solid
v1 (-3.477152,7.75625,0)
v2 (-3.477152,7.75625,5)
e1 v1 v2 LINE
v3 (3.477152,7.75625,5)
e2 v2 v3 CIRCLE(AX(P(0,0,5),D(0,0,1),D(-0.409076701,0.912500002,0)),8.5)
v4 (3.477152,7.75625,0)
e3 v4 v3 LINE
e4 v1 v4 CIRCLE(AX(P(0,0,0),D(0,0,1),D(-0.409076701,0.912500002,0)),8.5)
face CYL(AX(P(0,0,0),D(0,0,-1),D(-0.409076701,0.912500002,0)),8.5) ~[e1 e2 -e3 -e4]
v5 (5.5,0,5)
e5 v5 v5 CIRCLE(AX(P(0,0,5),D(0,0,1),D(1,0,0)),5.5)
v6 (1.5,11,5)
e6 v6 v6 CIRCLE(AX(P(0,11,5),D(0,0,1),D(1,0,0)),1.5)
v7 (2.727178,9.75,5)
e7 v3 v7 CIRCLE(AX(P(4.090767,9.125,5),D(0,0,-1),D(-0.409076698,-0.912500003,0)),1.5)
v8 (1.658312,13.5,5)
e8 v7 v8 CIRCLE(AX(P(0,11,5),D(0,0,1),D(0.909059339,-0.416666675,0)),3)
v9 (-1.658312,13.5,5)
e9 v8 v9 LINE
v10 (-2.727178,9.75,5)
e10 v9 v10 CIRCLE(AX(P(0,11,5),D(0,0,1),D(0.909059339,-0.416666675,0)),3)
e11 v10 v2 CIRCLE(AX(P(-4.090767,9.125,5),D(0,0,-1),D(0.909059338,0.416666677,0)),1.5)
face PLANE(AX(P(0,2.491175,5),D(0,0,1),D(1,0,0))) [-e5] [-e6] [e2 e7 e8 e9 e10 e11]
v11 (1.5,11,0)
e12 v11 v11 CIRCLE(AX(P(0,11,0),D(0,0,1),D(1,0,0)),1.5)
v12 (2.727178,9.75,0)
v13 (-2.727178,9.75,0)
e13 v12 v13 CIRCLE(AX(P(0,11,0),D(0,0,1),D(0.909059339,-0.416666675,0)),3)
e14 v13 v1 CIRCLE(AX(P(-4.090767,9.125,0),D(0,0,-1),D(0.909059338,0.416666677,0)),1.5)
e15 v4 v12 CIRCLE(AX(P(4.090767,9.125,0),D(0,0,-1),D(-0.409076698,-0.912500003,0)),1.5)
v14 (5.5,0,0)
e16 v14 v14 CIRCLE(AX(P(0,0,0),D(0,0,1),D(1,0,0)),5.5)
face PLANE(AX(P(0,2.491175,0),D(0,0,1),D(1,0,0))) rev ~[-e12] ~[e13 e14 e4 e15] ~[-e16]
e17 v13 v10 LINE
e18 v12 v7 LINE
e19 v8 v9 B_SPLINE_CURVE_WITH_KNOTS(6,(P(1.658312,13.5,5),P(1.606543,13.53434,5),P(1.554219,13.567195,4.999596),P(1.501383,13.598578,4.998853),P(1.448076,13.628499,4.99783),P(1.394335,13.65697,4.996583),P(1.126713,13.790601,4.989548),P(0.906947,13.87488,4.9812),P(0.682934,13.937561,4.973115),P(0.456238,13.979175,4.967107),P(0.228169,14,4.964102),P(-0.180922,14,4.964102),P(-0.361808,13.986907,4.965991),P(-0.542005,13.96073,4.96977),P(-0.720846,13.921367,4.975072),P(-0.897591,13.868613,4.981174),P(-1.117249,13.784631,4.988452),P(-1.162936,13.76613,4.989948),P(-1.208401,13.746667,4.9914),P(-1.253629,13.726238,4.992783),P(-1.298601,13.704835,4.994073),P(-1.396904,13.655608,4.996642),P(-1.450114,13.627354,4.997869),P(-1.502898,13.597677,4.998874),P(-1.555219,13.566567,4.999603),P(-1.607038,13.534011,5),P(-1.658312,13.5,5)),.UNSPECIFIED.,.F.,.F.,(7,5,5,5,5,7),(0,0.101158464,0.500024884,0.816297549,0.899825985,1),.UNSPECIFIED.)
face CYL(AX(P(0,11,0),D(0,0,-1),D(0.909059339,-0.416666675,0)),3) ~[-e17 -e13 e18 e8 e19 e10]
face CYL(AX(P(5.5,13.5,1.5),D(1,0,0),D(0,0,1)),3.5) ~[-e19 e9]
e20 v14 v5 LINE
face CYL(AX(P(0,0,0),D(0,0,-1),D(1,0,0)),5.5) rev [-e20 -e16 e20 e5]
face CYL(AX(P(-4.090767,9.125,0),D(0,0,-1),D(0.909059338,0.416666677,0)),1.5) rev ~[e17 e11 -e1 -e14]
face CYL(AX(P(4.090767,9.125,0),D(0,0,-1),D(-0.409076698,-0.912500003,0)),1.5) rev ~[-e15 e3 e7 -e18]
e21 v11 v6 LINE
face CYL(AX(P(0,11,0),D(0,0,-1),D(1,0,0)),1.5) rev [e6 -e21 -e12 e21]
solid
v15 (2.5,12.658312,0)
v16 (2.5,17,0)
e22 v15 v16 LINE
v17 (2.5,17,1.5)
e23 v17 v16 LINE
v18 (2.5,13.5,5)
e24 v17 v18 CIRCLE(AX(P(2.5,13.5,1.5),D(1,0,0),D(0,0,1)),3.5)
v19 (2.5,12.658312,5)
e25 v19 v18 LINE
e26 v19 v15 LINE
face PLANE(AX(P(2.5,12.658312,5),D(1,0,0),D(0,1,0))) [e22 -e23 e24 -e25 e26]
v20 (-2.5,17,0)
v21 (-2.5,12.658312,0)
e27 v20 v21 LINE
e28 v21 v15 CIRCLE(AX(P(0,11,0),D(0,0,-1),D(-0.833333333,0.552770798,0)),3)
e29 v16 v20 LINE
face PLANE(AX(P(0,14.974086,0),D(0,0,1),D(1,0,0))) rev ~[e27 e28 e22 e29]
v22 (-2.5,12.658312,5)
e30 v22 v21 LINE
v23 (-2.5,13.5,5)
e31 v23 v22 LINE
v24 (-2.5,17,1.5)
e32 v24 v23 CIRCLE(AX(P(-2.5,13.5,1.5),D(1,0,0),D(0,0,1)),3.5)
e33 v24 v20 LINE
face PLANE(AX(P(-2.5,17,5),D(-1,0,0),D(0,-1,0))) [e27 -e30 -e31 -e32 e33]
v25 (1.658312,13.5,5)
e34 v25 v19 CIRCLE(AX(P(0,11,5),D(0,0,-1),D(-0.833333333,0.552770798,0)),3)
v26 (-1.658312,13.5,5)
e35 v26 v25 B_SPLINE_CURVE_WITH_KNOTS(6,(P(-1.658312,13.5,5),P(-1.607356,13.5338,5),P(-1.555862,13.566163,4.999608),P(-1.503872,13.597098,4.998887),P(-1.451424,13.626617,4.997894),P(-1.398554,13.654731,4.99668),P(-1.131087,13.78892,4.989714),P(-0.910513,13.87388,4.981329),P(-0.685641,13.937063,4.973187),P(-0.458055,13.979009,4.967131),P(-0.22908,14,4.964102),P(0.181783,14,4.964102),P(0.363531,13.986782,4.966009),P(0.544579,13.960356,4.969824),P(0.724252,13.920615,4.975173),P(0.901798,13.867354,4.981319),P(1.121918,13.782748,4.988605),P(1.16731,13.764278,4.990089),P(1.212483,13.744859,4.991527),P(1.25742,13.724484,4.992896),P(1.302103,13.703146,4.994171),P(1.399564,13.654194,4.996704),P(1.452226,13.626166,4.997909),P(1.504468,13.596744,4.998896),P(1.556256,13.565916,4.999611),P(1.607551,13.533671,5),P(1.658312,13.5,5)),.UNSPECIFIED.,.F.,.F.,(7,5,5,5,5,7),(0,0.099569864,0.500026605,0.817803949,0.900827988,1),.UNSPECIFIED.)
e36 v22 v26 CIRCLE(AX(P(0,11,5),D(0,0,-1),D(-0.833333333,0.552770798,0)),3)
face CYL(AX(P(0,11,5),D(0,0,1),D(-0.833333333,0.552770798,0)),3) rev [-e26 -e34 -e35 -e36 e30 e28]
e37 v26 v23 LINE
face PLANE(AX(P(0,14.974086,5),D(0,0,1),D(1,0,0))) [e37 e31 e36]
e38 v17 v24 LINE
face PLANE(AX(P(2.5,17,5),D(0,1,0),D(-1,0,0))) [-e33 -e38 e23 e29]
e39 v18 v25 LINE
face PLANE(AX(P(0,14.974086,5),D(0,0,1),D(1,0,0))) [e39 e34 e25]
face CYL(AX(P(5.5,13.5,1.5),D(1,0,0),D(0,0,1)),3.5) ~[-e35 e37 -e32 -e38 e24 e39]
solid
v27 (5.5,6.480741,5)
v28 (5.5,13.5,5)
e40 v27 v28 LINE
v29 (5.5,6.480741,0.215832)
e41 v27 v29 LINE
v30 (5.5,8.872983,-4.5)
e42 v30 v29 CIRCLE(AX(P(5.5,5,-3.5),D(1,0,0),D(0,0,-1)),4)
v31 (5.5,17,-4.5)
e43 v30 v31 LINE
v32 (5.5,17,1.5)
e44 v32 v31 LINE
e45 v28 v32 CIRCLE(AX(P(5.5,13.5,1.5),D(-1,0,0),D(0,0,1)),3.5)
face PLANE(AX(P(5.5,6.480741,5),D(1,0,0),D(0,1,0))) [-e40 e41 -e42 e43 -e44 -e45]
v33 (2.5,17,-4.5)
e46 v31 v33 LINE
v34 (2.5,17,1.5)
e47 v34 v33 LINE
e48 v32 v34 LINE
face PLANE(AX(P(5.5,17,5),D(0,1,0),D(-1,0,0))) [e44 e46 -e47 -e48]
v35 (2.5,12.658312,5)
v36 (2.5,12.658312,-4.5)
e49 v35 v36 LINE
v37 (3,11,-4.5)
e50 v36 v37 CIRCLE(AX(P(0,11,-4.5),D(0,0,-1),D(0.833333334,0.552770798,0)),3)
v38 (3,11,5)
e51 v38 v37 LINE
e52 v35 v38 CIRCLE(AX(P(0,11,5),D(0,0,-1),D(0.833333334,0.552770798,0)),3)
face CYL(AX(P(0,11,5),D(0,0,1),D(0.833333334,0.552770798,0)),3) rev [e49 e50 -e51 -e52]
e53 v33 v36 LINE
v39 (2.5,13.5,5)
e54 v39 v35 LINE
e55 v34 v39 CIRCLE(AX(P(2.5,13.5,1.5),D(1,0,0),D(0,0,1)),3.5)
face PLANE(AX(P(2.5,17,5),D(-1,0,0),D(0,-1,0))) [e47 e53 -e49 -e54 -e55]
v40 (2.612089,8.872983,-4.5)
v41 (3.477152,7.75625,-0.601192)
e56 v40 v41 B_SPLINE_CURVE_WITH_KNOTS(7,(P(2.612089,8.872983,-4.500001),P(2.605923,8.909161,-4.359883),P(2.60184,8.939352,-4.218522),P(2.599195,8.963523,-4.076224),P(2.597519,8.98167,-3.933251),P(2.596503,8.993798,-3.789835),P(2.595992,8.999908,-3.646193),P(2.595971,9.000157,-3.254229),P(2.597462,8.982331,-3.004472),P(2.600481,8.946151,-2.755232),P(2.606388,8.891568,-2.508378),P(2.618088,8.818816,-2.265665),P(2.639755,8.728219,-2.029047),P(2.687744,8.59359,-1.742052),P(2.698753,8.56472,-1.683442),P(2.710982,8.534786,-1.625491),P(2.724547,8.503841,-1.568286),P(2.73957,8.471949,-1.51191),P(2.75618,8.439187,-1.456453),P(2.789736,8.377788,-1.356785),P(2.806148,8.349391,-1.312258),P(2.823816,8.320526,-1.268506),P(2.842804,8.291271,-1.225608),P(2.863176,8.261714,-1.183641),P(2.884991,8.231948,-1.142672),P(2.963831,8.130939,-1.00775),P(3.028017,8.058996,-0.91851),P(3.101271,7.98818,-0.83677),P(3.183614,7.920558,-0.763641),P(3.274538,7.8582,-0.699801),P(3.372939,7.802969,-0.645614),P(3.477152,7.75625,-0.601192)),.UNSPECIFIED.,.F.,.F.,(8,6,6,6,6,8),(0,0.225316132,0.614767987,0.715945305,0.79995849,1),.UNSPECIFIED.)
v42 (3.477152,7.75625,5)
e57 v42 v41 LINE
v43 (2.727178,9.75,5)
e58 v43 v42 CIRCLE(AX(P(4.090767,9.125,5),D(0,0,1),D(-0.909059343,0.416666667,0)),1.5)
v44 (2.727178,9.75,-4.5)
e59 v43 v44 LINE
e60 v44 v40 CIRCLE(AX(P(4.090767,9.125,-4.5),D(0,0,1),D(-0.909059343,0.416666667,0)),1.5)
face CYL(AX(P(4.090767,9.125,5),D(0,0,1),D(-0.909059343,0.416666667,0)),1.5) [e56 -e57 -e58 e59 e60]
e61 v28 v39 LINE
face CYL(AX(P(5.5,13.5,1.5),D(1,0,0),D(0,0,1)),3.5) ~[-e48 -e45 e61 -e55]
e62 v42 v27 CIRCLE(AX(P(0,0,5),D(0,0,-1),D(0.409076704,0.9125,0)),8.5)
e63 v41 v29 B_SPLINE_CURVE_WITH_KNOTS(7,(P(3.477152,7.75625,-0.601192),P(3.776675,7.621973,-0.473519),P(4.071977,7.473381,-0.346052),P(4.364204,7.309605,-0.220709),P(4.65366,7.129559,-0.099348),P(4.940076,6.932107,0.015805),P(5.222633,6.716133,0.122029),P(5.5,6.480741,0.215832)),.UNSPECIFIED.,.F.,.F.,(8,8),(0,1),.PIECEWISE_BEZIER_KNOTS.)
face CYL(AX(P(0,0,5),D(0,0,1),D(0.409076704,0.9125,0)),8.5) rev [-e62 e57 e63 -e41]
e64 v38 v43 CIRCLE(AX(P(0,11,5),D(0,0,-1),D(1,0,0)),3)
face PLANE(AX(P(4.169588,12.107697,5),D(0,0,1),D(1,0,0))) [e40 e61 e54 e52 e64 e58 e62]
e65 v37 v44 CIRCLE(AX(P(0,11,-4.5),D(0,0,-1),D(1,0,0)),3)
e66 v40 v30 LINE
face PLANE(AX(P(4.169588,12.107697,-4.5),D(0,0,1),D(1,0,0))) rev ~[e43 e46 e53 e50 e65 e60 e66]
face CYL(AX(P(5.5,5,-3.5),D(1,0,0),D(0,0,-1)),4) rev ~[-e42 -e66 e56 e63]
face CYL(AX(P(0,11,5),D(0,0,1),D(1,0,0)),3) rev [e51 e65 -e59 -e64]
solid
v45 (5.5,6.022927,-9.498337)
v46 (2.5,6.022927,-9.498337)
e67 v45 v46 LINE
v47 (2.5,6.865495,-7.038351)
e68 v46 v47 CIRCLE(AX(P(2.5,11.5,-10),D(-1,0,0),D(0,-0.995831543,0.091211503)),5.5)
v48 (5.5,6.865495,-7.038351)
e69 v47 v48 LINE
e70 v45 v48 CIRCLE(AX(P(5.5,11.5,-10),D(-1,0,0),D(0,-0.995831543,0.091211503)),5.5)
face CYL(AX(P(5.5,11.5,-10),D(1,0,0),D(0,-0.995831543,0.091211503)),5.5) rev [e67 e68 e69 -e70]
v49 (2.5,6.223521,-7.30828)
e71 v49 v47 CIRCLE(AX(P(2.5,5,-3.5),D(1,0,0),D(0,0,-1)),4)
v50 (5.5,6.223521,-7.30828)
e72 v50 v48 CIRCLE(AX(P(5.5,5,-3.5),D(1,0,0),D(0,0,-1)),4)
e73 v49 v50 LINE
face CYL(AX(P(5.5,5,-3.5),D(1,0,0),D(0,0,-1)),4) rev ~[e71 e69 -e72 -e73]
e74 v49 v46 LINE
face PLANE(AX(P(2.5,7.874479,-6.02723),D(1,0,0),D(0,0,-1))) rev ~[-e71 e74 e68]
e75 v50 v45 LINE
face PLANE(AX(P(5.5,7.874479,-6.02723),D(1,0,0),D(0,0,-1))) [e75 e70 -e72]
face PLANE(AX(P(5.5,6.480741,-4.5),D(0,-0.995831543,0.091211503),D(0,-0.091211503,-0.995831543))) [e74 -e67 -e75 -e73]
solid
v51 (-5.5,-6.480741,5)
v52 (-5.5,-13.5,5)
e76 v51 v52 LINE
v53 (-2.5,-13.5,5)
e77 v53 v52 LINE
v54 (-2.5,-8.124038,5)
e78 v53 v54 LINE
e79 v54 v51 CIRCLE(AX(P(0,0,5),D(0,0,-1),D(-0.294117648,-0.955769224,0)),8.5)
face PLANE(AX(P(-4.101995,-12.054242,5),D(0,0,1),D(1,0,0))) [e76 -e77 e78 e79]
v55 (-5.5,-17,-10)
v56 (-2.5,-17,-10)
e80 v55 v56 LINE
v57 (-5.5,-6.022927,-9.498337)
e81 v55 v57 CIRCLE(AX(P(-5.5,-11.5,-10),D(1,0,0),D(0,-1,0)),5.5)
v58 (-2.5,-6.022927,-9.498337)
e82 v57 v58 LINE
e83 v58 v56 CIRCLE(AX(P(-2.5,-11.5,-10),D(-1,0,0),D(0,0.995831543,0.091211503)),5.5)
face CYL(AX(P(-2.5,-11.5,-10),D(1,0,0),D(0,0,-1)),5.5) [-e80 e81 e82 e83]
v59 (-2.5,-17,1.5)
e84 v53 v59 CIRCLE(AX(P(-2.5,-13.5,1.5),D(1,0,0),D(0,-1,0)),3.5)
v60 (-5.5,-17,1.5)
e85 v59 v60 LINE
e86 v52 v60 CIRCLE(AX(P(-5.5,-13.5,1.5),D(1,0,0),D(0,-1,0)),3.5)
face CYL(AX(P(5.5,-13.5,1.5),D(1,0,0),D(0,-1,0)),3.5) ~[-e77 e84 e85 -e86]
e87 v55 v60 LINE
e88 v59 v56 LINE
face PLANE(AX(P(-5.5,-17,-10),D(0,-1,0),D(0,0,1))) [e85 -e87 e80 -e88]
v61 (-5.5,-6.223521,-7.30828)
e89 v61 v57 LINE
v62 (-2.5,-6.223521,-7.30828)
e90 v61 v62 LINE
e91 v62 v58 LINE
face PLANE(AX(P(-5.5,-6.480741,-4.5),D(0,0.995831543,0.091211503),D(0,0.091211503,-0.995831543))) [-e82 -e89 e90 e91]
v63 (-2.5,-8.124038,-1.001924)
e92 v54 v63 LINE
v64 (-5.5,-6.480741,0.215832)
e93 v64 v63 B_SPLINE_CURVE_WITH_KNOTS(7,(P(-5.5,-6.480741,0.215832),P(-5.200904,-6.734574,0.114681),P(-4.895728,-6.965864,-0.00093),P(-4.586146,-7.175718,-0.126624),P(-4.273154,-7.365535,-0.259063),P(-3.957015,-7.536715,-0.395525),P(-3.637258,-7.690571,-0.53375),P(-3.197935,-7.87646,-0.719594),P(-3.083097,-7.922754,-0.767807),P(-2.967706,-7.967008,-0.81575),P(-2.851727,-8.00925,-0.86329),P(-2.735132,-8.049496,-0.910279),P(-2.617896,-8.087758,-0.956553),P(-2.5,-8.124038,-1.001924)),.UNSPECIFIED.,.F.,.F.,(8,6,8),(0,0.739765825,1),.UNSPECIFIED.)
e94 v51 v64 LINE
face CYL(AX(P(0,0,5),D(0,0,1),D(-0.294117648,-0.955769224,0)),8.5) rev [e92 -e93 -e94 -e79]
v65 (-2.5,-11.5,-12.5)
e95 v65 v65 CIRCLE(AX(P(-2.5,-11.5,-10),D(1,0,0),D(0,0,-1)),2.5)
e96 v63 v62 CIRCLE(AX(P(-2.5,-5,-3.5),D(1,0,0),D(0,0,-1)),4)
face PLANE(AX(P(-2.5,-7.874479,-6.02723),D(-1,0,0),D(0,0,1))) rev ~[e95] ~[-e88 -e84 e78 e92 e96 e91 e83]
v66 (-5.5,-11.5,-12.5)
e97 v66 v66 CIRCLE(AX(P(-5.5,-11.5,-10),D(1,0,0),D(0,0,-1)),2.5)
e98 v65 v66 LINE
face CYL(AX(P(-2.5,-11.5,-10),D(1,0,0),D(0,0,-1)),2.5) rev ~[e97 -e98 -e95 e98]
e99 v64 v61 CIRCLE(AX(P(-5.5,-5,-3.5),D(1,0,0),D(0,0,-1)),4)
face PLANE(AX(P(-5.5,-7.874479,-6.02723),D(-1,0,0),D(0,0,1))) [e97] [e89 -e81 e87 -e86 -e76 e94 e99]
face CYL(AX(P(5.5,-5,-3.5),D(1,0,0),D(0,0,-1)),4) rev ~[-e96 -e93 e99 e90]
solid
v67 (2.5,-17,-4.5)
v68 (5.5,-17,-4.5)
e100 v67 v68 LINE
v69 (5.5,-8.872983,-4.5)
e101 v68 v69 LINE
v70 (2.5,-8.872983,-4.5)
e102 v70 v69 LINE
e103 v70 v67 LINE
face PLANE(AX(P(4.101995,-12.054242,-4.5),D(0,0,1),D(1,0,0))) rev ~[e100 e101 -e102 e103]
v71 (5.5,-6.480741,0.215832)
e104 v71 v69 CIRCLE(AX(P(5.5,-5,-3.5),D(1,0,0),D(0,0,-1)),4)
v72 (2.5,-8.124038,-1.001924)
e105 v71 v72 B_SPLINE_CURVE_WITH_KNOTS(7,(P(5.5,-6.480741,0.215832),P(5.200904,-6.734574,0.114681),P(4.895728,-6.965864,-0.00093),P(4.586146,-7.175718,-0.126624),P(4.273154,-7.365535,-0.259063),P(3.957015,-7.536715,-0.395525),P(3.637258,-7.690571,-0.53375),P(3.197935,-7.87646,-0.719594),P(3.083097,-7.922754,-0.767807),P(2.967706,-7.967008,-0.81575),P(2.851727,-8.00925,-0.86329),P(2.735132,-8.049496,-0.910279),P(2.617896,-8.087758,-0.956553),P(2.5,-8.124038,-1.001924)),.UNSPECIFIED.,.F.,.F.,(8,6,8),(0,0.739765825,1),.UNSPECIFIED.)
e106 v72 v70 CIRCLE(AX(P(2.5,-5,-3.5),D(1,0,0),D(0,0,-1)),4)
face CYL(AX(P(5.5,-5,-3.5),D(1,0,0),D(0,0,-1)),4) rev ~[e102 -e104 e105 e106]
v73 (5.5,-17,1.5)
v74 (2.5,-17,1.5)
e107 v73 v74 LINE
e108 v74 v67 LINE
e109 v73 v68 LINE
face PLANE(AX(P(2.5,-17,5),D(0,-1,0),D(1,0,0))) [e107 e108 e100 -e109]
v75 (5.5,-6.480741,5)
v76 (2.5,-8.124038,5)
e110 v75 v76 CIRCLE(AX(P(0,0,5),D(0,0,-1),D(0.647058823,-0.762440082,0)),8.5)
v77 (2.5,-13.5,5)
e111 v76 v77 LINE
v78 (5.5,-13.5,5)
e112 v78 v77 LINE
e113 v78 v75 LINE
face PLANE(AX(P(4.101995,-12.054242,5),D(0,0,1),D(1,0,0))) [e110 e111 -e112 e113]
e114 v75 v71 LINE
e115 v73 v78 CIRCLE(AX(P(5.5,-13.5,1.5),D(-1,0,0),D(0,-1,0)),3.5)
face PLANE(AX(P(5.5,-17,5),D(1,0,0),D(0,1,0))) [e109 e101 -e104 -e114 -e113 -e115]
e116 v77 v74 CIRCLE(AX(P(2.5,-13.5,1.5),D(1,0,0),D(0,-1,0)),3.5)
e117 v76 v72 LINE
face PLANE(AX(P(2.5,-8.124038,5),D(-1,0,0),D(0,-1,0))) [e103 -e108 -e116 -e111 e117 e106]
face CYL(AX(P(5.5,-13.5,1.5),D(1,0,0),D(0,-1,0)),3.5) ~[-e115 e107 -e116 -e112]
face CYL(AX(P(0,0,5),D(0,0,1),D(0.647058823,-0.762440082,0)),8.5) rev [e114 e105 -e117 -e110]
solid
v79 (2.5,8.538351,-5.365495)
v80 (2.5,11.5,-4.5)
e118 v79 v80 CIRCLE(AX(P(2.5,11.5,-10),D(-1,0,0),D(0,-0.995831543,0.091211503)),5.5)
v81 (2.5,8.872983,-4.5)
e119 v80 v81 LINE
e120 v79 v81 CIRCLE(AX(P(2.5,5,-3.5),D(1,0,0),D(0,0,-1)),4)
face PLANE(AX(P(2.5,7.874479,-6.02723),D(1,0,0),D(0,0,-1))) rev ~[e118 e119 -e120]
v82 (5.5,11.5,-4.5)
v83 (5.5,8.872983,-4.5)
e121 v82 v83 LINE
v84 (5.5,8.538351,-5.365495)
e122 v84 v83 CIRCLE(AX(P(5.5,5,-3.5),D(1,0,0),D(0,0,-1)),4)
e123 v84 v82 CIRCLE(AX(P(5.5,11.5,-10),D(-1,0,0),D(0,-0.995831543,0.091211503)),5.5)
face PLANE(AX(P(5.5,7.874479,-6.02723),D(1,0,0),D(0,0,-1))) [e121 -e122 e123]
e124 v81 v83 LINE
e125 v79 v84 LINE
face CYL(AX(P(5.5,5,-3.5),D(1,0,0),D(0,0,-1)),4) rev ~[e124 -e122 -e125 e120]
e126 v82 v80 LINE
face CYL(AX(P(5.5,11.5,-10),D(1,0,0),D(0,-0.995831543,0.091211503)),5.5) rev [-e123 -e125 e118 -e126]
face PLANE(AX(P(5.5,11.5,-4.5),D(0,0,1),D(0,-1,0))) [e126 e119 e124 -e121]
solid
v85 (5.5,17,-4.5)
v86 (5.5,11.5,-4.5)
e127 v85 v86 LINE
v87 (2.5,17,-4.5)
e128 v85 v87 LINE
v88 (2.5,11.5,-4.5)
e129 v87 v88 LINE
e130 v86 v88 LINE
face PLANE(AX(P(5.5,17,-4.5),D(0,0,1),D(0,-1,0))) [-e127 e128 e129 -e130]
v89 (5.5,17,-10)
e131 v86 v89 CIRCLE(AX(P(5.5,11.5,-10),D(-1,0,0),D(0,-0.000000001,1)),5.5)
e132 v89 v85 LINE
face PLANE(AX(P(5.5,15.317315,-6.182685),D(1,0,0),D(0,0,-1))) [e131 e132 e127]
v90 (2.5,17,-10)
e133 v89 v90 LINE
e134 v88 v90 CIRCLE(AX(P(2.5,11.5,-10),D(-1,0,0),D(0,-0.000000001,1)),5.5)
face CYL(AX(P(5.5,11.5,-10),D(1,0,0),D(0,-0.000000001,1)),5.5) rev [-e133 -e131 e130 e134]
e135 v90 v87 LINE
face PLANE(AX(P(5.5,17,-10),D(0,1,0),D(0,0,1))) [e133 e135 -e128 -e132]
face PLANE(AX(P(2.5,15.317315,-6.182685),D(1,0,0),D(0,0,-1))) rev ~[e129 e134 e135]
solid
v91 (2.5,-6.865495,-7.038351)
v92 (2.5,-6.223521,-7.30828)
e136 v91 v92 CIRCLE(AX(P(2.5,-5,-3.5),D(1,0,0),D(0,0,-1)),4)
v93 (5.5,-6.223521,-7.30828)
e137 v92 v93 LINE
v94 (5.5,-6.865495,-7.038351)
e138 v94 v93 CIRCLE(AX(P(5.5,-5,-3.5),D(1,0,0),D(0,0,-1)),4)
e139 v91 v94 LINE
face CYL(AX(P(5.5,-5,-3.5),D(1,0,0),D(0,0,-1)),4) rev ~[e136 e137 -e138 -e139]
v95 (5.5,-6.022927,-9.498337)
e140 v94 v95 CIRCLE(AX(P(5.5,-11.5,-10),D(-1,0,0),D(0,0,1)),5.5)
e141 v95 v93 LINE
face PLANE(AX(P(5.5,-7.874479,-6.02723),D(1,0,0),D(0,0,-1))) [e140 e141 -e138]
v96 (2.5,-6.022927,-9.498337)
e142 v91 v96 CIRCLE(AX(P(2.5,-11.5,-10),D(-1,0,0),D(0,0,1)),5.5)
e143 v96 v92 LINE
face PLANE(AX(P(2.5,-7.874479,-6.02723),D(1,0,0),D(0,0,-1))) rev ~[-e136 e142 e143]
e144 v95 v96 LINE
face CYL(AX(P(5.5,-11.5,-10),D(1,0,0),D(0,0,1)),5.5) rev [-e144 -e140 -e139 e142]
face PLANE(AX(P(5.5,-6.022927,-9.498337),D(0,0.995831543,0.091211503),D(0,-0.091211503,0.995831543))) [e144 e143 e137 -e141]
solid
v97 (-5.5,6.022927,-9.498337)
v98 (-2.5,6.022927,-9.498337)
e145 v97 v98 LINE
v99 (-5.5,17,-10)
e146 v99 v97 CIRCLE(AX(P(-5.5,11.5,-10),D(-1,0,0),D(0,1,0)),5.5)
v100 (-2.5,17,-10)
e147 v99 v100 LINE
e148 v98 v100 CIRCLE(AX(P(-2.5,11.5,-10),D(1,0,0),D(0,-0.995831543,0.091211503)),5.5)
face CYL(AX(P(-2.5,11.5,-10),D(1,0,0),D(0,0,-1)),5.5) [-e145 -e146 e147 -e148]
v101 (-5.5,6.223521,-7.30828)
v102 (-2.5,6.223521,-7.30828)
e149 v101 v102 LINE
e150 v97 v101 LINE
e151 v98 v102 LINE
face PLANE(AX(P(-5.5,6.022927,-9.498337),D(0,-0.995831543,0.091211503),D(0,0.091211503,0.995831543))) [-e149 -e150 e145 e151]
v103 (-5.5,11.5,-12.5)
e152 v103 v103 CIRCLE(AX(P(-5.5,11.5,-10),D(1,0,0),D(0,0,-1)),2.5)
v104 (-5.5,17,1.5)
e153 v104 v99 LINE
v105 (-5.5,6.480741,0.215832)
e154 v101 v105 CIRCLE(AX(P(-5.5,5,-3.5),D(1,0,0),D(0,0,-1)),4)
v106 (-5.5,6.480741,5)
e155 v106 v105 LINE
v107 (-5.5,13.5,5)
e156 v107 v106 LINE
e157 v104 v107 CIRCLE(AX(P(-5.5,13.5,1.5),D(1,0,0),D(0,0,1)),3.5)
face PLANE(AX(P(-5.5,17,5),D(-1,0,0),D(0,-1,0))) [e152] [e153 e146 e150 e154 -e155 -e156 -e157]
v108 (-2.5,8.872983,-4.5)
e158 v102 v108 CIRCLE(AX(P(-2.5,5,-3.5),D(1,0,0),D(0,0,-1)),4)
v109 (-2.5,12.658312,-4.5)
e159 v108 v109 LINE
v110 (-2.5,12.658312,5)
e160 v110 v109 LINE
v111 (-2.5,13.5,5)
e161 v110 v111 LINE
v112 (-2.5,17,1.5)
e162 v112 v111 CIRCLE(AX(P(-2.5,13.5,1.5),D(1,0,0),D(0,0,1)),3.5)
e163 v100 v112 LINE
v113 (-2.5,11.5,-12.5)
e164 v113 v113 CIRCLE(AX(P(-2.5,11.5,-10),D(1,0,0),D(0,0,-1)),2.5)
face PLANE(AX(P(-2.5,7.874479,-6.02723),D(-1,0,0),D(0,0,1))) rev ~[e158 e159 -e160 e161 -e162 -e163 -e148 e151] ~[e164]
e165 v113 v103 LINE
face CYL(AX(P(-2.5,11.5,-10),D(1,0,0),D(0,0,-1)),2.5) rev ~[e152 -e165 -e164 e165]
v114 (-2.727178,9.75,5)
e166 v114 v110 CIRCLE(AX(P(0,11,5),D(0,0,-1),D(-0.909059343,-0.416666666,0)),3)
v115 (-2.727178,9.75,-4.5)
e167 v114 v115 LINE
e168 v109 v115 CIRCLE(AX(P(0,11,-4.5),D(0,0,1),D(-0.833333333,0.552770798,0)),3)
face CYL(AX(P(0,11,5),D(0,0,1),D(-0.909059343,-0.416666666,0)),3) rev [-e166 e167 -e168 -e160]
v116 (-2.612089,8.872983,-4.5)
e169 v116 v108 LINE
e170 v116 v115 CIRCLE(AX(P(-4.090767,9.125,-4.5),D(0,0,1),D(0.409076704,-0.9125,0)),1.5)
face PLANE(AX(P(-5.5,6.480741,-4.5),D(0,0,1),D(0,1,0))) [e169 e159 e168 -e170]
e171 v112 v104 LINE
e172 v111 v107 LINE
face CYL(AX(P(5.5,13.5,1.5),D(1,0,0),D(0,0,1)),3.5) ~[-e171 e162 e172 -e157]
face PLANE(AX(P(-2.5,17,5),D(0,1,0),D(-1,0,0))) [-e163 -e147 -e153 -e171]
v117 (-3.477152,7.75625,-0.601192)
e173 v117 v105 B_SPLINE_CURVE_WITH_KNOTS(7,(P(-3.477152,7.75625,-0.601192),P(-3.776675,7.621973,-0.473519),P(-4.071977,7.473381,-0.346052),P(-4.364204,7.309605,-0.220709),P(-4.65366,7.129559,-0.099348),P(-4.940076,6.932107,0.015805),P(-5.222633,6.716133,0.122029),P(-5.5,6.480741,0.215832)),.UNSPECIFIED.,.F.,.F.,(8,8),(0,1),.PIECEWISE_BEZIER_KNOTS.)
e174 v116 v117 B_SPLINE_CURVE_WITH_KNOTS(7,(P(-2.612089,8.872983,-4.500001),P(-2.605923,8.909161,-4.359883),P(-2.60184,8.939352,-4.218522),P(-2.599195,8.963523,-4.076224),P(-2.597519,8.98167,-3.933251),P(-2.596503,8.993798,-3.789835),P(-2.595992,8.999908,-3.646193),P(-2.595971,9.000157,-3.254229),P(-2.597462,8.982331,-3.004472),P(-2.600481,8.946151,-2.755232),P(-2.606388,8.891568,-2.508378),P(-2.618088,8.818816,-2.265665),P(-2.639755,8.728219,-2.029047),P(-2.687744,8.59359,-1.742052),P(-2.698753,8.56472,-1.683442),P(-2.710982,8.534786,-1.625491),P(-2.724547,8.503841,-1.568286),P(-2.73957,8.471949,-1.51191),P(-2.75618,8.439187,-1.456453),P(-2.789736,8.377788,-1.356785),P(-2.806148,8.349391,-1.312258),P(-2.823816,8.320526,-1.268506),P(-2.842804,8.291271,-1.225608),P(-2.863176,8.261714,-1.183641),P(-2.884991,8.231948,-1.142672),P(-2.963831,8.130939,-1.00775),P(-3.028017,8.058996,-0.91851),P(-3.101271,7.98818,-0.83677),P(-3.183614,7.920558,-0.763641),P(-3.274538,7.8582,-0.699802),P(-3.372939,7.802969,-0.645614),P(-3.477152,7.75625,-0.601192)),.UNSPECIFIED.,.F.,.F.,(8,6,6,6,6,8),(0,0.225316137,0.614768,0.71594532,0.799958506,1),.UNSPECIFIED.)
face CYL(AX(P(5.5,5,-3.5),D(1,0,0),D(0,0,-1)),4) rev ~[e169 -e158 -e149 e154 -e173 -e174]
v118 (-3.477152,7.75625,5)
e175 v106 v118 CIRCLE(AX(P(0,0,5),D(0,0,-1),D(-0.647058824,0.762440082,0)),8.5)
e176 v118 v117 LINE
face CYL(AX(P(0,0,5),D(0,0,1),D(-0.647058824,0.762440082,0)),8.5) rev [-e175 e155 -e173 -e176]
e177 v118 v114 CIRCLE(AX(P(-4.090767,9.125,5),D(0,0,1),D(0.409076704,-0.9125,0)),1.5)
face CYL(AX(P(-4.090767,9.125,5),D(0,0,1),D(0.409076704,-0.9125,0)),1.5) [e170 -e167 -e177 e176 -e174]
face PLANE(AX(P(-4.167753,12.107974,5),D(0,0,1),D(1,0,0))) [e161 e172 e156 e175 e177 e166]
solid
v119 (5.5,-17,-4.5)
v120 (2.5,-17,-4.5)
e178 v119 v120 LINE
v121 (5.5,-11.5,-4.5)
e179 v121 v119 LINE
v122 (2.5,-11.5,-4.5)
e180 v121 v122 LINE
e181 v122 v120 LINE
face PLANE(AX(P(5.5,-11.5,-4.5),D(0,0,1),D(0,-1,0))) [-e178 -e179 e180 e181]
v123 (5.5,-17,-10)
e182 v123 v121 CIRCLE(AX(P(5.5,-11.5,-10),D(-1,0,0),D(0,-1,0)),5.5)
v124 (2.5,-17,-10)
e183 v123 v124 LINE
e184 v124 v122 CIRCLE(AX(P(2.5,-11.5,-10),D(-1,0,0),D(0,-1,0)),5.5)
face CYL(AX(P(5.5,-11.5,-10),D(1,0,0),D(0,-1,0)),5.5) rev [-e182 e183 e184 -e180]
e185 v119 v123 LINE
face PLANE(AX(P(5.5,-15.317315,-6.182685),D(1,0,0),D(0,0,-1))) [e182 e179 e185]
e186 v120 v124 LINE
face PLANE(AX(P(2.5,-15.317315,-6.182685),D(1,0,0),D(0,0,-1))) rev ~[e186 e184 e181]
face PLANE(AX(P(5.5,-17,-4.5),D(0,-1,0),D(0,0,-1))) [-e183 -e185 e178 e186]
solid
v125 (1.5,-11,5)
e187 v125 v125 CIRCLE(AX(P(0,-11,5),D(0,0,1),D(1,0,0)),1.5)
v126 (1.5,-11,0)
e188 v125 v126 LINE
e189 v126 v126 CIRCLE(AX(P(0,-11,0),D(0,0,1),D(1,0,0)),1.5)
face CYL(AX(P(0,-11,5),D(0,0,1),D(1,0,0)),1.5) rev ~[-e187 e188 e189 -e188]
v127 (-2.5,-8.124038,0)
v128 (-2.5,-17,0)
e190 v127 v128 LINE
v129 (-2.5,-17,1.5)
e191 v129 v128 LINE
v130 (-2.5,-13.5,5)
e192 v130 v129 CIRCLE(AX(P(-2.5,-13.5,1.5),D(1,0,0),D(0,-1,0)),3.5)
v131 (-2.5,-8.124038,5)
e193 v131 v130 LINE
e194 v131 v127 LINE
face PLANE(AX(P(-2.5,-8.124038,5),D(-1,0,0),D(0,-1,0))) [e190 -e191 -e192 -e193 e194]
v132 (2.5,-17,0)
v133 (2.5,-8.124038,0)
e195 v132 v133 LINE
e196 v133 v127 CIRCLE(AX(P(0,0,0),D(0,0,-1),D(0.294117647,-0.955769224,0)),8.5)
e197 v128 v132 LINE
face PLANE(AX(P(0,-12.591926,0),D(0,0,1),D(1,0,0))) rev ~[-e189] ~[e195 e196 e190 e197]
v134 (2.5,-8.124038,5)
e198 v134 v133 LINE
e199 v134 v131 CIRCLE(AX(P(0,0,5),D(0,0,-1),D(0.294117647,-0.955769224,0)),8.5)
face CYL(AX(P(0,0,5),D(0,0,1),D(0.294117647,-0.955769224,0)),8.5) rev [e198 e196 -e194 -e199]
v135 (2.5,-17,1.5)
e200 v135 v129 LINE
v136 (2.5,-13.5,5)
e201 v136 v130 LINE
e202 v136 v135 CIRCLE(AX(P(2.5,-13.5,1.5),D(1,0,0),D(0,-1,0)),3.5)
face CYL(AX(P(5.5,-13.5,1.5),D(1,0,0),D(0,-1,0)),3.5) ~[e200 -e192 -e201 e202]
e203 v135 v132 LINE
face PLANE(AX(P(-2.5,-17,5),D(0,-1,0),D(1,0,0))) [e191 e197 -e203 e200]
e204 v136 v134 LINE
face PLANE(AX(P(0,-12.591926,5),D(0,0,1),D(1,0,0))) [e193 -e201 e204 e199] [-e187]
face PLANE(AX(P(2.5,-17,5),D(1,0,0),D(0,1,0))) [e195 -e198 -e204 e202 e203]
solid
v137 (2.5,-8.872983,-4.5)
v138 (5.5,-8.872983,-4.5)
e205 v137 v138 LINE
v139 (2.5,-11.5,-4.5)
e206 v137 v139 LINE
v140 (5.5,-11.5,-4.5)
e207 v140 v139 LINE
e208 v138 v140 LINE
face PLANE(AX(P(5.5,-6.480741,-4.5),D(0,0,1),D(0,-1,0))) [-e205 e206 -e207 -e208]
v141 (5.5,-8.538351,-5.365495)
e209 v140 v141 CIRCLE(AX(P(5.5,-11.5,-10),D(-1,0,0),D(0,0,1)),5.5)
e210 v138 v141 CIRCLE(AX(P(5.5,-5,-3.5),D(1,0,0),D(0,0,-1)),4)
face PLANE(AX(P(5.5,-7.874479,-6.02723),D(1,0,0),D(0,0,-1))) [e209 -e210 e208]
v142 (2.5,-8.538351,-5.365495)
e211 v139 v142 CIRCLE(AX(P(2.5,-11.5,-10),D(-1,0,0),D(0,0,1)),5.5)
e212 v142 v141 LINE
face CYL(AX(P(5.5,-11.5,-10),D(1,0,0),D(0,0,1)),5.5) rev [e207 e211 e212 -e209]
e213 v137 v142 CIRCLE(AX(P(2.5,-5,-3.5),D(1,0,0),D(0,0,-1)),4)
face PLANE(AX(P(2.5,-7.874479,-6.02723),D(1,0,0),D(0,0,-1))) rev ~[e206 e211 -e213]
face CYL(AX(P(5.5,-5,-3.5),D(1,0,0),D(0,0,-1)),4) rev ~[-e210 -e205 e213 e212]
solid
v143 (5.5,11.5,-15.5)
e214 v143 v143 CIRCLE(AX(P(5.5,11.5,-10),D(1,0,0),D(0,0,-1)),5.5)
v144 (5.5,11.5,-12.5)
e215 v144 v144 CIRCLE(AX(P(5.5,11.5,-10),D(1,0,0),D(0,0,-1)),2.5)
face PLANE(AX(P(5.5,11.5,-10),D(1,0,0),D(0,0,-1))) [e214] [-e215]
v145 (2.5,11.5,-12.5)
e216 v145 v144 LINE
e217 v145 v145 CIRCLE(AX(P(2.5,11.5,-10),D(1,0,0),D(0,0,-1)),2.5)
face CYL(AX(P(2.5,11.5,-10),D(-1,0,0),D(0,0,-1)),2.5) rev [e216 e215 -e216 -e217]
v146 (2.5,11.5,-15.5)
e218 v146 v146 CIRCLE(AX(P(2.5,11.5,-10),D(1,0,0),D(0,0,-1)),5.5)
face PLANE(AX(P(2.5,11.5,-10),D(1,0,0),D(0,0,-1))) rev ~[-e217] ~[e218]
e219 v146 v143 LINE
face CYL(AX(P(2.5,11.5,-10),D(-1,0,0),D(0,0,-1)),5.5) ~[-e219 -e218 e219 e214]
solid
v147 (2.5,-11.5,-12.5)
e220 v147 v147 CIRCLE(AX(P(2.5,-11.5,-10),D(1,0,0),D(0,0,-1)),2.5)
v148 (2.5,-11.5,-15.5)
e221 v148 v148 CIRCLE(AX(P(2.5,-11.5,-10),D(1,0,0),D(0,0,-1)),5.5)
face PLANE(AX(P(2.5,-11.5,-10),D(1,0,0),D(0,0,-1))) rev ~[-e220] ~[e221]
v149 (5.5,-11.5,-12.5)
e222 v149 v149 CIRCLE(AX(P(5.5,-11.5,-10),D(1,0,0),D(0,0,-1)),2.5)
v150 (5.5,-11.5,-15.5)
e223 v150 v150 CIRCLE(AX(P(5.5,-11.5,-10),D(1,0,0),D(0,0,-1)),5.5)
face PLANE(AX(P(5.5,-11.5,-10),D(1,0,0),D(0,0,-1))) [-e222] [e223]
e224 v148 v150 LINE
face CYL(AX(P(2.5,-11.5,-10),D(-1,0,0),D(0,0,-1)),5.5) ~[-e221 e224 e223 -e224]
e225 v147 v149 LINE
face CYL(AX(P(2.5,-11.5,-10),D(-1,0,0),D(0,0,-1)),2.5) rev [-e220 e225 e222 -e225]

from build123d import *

# Parameters (mm, degrees)
SKETCH_1_R          = 5.5
SKETCH_1_R_2        = 1.5
EXTRUDE_1_DEPTH     = 5
EXTRUDE_START       = -2.5
SKETCH_2_R          = 5.5
SKETCH_2_R_2        = 2.5
EXTRUDE_2_DEPTH     = 3
EXTRUDE_2_2_DEPTH   = 3
EXTRUDE_START_2     = 2.5
SKETCH_3_R          = 5.5
SKETCH_3_R_2        = 2.5
EXTRUDE_3_DEPTH     = 3
EXTRUDE_3_2_DEPTH   = 3
EXTRUDE_4_DEPTH     = 9.5
EXTRUDE_4_2_DEPTH   = 9.5
EXTRUDE_4_3_DEPTH   = 9.5
EXTRUDE_4_4_DEPTH   = 9.5
EXTRUDE_5_DEPTH     = 3
EXTRUDE_6_DEPTH     = 3
EXTRUDE_6_2_DEPTH   = 3
EXTRUDE_6_3_DEPTH   = 3
EXTRUDE_6_4_DEPTH   = 3
EXTRUDE_7_DEPTH     = 5
EXTRUDE_7_2_DEPTH   = 5
SKETCH_8_R          = 4
CUT_EXTRUDE_1_DEPTH = 27.930466019
SKETCH_9_R          = 1.5
CUT_EXTRUDE_2_DEPTH = 5
CUT_EXTRUDE_3_DEPTH = 27.930466019


with BuildPart() as part:
    # Эскиз1 → Бобышка-Вытянуть1 (new body)
    with BuildSketch(Plane.XY):
        with BuildLine():
            ThreePointArc((-3.477151956, 7.756250013), (-2.2e-08, -8.5), (3.477151997, 7.756249995))
            ThreePointArc((3.477151997, 7.756249995), (2.686810587, 8.596884227), (2.727178017, 9.749999975))
            ThreePointArc((2.727178017, 9.749999975), (2.2e-08, 14), (-2.727178036, 9.750000015))
            ThreePointArc((-2.727178036, 9.750000015), (-2.686810571, 8.596884269), (-3.477151956, 7.756250013))
        make_face()
        Circle(SKETCH_1_R, mode=Mode.SUBTRACT)
        with Locations((0, 11)):
            Circle(SKETCH_1_R_2, mode=Mode.SUBTRACT)
    extrude(amount=EXTRUDE_1_DEPTH)


with BuildPart() as body_2:
    # Эскиз2 → Бобышка-Вытянуть2 (new body)
    with BuildSketch(Plane(origin=(0, 0, 0), x_dir=(0, 0, -1), z_dir=(1, 0, 0)).offset(EXTRUDE_START)):
        with Locations((10, 11.5)):
            Circle(SKETCH_2_R)
        with Locations((10, 11.5)):
            Circle(SKETCH_2_R_2, mode=Mode.SUBTRACT)
    extrude(amount=-EXTRUDE_2_DEPTH)



with BuildPart() as body_3:
    # Эскиз2 → Extrude 2 2 (new body)
    with BuildSketch(Plane(origin=(0, 0, 0), x_dir=(0, 0, -1), z_dir=(1, 0, 0)).offset(EXTRUDE_START)):
        with Locations((10, -11.5)):
            Circle(SKETCH_2_R)
        with Locations((10, -11.5)):
            Circle(SKETCH_2_R_2, mode=Mode.SUBTRACT)
    extrude(amount=-EXTRUDE_2_2_DEPTH)


with BuildPart() as body_4:
    # Эскиз3 → Бобышка-Вытянуть3 (new body)
    with BuildSketch(Plane(origin=(0, 0, 0), x_dir=(0, 0, -1), z_dir=(1, 0, 0)).offset(EXTRUDE_START_2)):
        with Locations((10, 11.5)):
            Circle(SKETCH_3_R)
        with Locations((10, 11.5)):
            Circle(SKETCH_3_R_2, mode=Mode.SUBTRACT)
    extrude(amount=EXTRUDE_3_DEPTH)


with BuildPart() as body_5:
    # Эскиз3 → Extrude 3 2 (new body)
    with BuildSketch(Plane(origin=(0, 0, 0), x_dir=(0, 0, -1), z_dir=(1, 0, 0)).offset(EXTRUDE_START_2)):
        with Locations((10, -11.5)):
            Circle(SKETCH_3_R)
        with Locations((10, -11.5)):
            Circle(SKETCH_3_R_2, mode=Mode.SUBTRACT)
    extrude(amount=EXTRUDE_3_2_DEPTH)


with BuildPart() as body_6:
    # Эскиз4 → Бобышка-Вытянуть4 (new body)
    with BuildSketch(Plane.XY.offset(5)):
        with BuildLine():
            ThreePointArc((-2.5, -8.124038405), (-4.083516479, -7.454857018), (-5.5, -6.480740698))
            Line((-5.5, -6.480740698), (-5.5, -17))
            Line((-5.5, -17), (-2.5, -17))
            Line((-2.5, -17), (-2.5, -8.124038405))
        make_face()
    extrude(amount=-EXTRUDE_4_DEPTH)


with BuildPart() as body_7:
    # Эскиз4 → Extrude 4 2 (new body)
    with BuildSketch(Plane.XY.offset(5)):
        with BuildLine():
            ThreePointArc((5.5, -6.480740698), (4.083516479, -7.454857018), (2.5, -8.124038405))
            Line((2.5, -8.124038405), (2.5, -17))
            Line((2.5, -17), (5.5, -17))
            Line((5.5, -17), (5.5, -6.480740698))
        make_face()
    extrude(amount=-EXTRUDE_4_2_DEPTH)


with BuildPart() as body_8:
    # Эскиз4 → Extrude 4 3 (new body)
    with BuildSketch(Plane.XY.offset(5)):
        with BuildLine():
            Line((2.5, 17), (2.5, 12.658312395))
            ThreePointArc((2.5, 12.658312395), (2.872281323, 11.866025404), (3, 11))
            ThreePointArc((3, 11), (2.931001031, 10.360286817), (2.727178029, 9.75))
            ThreePointArc((2.727178029, 9.75), (2.68681058, 8.596884246), (3.477151987, 7.75625))
            ThreePointArc((3.477151987, 7.75625), (4.533656961, 7.189989886), (5.5, 6.480740698))
            Line((5.5, 6.480740698), (5.5, 17))
            Line((5.5, 17), (2.5, 17))
        make_face()
    extrude(amount=-EXTRUDE_4_3_DEPTH)


with BuildPart() as body_9:
    # Эскиз4 → Extrude 4 4 (new body)
    with BuildSketch(Plane.XY.offset(5)):
        with BuildLine():
            Line((-5.5, 17), (-5.5, 6.480740698))
            ThreePointArc((-5.5, 6.480740698), (-4.533656961, 7.189989886), (-3.477151987, 7.75625))
            ThreePointArc((-3.477151987, 7.75625), (-2.68681058, 8.596884246), (-2.727178029, 9.75))
            ThreePointArc((-2.727178029, 9.75), (-2.990889129, 11.233628374), (-2.5, 12.658312395))
            Line((-2.5, 12.658312395), (-2.5, 17))
            Line((-2.5, 17), (-5.5, 17))
        make_face()
    extrude(amount=-EXTRUDE_4_4_DEPTH)


with BuildPart() as body_2_1:
    add(body_2.part)

    add(body_3.part)  # Бобышка-Вытянуть5 merges body 3

    add(body_6.part)  # Бобышка-Вытянуть5 merges body 6

    add(body_9.part)  # Бобышка-Вытянуть5 merges body 9
    # Эскиз5 → Бобышка-Вытянуть5 (add)
    with BuildSketch(Plane.ZY.offset(5.5)):
        with BuildLine():
            Line((-4.5, -6.480740698), (-9.498336734, -6.022926514))
            ThreePointArc((-9.498336734, -6.022926514), (-5.937417819, -7.792517563), (-4.5, -11.5))
            Line((-4.5, -11.5), (-4.5, -6.480740698))
        make_face()
        with BuildLine():
            Line((-4.5, -17), (-4.5, -11.5))
            ThreePointArc((-4.5, -11.5), (-6.110912703, -15.389087297), (-10, -17))
            Line((-10, -17), (-4.5, -17))
        make_face()
        with BuildLine():
            Line((-4.5, 6.480740698), (-4.5, 11.5))
            ThreePointArc((-4.5, 11.5), (-5.937417819, 7.792517563), (-9.498336734, 6.022926514))
            Line((-9.498336734, 6.022926514), (-4.5, 6.480740698))
        make_face()
        with BuildLine():
            Line((-4.5, 17), (-10, 17))
            ThreePointArc((-10, 17), (-6.110912703, 15.389087297), (-4.5, 11.5))
            Line((-4.5, 11.5), (-4.5, 17))
        make_face()
    extrude(amount=-EXTRUDE_5_DEPTH)


with BuildPart() as body_7_2:
    # Эскиз6 → Бобышка-Вытянуть6 (new body)
    with BuildSketch(Plane(origin=(5.5, 0, 0), x_dir=(0, 0, -1), z_dir=(1, 0, 0))):
        with BuildLine():
            Line((4.5, -6.480740698), (4.5, -11.5))
            ThreePointArc((4.5, -11.5), (5.937417819, -7.792517563), (9.498336734, -6.022926514))
            Line((9.498336734, -6.022926514), (4.5, -6.480740698))
        make_face()
    extrude(amount=-EXTRUDE_6_DEPTH)


with BuildPart() as body_8_2:
    # Эскиз6 → Extrude 6 2 (new body)
    with BuildSketch(Plane(origin=(5.5, 0, 0), x_dir=(0, 0, -1), z_dir=(1, 0, 0))):
        with BuildLine():
            Line((4.5, -17), (10, -17))
            ThreePointArc((10, -17), (6.110912703, -15.389087297), (4.5, -11.5))
            Line((4.5, -11.5), (4.5, -17))
        make_face()
    extrude(amount=-EXTRUDE_6_2_DEPTH)


with BuildPart() as body_9_2:
    # Эскиз6 → Extrude 6 3 (new body)
    with BuildSketch(Plane(origin=(5.5, 0, 0), x_dir=(0, 0, -1), z_dir=(1, 0, 0))):
        with BuildLine():
            ThreePointArc((4.5, 11.499999994), (6.110912701, 15.389087294), (10, 17))
            Line((10, 17), (4.5, 17))
            Line((4.5, 17), (4.5, 11.499999994))
        make_face()
    extrude(amount=-EXTRUDE_6_3_DEPTH)


with BuildPart() as body_10:
    # Эскиз6 → Extrude 6 4 (new body)
    with BuildSketch(Plane(origin=(5.5, 0, 0), x_dir=(0, 0, -1), z_dir=(1, 0, 0))):
        with BuildLine():
            ThreePointArc((9.498336734, 6.022926514), (5.937417821, 7.792517561), (4.5, 11.499999994))
            Line((4.5, 11.499999994), (4.5, 6.480740698))
            Line((4.5, 6.480740698), (9.498336734, 6.022926514))
        make_face()
    extrude(amount=-EXTRUDE_6_4_DEPTH)


with BuildPart() as body_11:
    # Эскиз7 → Бобышка-Вытянуть7 (new body)
    with BuildSketch(Plane.XY.offset(5)):
        with BuildLine():
            Line((-2.5, 17), (-2.5, 12.658312395))
            ThreePointArc((-2.5, 12.658312395), (0, 14), (2.5, 12.658312395))
            Line((2.5, 12.658312395), (2.5, 17))
            Line((2.5, 17), (-2.5, 17))
        make_face()
    extrude(amount=-EXTRUDE_7_DEPTH)


with BuildPart() as body_12:
    # Эскиз7 → Extrude 7 2 (new body)
    with BuildSketch(Plane.XY.offset(5)):
        with BuildLine():
            ThreePointArc((2.5, -8.124038405), (0, -8.5), (-2.5, -8.124038405))
            Line((-2.5, -8.124038405), (-2.5, -17))
            Line((-2.5, -17), (2.5, -17))
            Line((2.5, -17), (2.5, -8.124038405))
        make_face()
    extrude(amount=-EXTRUDE_7_2_DEPTH)

    # Эскиз9 → Вырез-Вытянуть2 (cut)
    with BuildSketch(Plane.XY.offset(5)):
        with Locations((0, -11)):
            Circle(SKETCH_9_R)
    extrude(amount=-CUT_EXTRUDE_2_DEPTH, mode=Mode.SUBTRACT)


with BuildPart() as cut_extrude_1_tool:
    # Эскиз8 → Вырез-Вытянуть1 (new, through all)
    with BuildSketch(Plane(origin=(5.5, 0, 0), x_dir=(0, 0, -1), z_dir=(1, 0, 0))):
        with Locations((3.5, 5)):
            Circle(SKETCH_8_R)
        with Locations((3.5, -5)):
            Circle(SKETCH_8_R)
    extrude(amount=-CUT_EXTRUDE_1_DEPTH)


with BuildPart() as body_2_2:
    add(body_2_1.part)

    # Вырез-Вытянуть1: cut by cut_extrude_1_tool
    add(cut_extrude_1_tool.part, mode=Mode.SUBTRACT)


with BuildPart() as body_7_1:
    add(body_7.part)

    # Вырез-Вытянуть1: cut by cut_extrude_1_tool
    add(cut_extrude_1_tool.part, mode=Mode.SUBTRACT)


with BuildPart() as body_8_1:
    add(body_8.part)

    # Вырез-Вытянуть1: cut by cut_extrude_1_tool
    add(cut_extrude_1_tool.part, mode=Mode.SUBTRACT)


with BuildPart() as body_7_2_1:
    add(body_7_2.part)

    # Вырез-Вытянуть1: cut by cut_extrude_1_tool
    add(cut_extrude_1_tool.part, mode=Mode.SUBTRACT)


with BuildPart() as body_10_1:
    add(body_10.part)

    # Вырез-Вытянуть1: cut by cut_extrude_1_tool
    add(cut_extrude_1_tool.part, mode=Mode.SUBTRACT)


with BuildPart() as cut_extrude_3_tool:
    # Эскиз10 → Вырез-Вытянуть3 (new, through all)
    with BuildSketch(Plane(origin=(5.5, 0, 0), x_dir=(0, 0, -1), z_dir=(1, 0, 0))):
        with BuildLine():
            ThreePointArc((-1.5, -17), (-3.974873734, -15.974873734), (-5, -13.5))
            Line((-5, -13.5), (-5, -17))
            Line((-5, -17), (-1.5, -17))
        make_face()
        with BuildLine():
            ThreePointArc((-5, 13.5), (-3.974873734, 15.974873734), (-1.5, 17))
            Line((-1.5, 17), (-5, 17))
            Line((-5, 17), (-5, 13.5))
        make_face()
    extrude(amount=-CUT_EXTRUDE_3_DEPTH)


with BuildPart() as part_1:
    add(part.part)

    # Вырез-Вытянуть3: cut by cut_extrude_3_tool
    add(cut_extrude_3_tool.part, mode=Mode.SUBTRACT)


with BuildPart() as body_2_3:
    add(body_2_2.part)

    # Вырез-Вытянуть3: cut by cut_extrude_3_tool
    add(cut_extrude_3_tool.part, mode=Mode.SUBTRACT)


with BuildPart() as body_7_3:
    add(body_7_1.part)

    # Вырез-Вытянуть3: cut by cut_extrude_3_tool
    add(cut_extrude_3_tool.part, mode=Mode.SUBTRACT)


with BuildPart() as body_8_3:
    add(body_8_1.part)

    # Вырез-Вытянуть3: cut by cut_extrude_3_tool
    add(cut_extrude_3_tool.part, mode=Mode.SUBTRACT)


with BuildPart() as body_11_1:
    add(body_11.part)

    # Вырез-Вытянуть3: cut by cut_extrude_3_tool
    add(cut_extrude_3_tool.part, mode=Mode.SUBTRACT)


with BuildPart() as body_12_1:
    add(body_12.part)

    # Вырез-Вытянуть3: cut by cut_extrude_3_tool
    add(cut_extrude_3_tool.part, mode=Mode.SUBTRACT)


solid = Compound([body_4.part, body_5.part, body_8_2.part, body_9_2.part, body_7_2_1.part, body_10_1.part, part_1.part, body_2_3.part, body_7_3.part, body_8_3.part, body_11_1.part, body_12_1.part])
